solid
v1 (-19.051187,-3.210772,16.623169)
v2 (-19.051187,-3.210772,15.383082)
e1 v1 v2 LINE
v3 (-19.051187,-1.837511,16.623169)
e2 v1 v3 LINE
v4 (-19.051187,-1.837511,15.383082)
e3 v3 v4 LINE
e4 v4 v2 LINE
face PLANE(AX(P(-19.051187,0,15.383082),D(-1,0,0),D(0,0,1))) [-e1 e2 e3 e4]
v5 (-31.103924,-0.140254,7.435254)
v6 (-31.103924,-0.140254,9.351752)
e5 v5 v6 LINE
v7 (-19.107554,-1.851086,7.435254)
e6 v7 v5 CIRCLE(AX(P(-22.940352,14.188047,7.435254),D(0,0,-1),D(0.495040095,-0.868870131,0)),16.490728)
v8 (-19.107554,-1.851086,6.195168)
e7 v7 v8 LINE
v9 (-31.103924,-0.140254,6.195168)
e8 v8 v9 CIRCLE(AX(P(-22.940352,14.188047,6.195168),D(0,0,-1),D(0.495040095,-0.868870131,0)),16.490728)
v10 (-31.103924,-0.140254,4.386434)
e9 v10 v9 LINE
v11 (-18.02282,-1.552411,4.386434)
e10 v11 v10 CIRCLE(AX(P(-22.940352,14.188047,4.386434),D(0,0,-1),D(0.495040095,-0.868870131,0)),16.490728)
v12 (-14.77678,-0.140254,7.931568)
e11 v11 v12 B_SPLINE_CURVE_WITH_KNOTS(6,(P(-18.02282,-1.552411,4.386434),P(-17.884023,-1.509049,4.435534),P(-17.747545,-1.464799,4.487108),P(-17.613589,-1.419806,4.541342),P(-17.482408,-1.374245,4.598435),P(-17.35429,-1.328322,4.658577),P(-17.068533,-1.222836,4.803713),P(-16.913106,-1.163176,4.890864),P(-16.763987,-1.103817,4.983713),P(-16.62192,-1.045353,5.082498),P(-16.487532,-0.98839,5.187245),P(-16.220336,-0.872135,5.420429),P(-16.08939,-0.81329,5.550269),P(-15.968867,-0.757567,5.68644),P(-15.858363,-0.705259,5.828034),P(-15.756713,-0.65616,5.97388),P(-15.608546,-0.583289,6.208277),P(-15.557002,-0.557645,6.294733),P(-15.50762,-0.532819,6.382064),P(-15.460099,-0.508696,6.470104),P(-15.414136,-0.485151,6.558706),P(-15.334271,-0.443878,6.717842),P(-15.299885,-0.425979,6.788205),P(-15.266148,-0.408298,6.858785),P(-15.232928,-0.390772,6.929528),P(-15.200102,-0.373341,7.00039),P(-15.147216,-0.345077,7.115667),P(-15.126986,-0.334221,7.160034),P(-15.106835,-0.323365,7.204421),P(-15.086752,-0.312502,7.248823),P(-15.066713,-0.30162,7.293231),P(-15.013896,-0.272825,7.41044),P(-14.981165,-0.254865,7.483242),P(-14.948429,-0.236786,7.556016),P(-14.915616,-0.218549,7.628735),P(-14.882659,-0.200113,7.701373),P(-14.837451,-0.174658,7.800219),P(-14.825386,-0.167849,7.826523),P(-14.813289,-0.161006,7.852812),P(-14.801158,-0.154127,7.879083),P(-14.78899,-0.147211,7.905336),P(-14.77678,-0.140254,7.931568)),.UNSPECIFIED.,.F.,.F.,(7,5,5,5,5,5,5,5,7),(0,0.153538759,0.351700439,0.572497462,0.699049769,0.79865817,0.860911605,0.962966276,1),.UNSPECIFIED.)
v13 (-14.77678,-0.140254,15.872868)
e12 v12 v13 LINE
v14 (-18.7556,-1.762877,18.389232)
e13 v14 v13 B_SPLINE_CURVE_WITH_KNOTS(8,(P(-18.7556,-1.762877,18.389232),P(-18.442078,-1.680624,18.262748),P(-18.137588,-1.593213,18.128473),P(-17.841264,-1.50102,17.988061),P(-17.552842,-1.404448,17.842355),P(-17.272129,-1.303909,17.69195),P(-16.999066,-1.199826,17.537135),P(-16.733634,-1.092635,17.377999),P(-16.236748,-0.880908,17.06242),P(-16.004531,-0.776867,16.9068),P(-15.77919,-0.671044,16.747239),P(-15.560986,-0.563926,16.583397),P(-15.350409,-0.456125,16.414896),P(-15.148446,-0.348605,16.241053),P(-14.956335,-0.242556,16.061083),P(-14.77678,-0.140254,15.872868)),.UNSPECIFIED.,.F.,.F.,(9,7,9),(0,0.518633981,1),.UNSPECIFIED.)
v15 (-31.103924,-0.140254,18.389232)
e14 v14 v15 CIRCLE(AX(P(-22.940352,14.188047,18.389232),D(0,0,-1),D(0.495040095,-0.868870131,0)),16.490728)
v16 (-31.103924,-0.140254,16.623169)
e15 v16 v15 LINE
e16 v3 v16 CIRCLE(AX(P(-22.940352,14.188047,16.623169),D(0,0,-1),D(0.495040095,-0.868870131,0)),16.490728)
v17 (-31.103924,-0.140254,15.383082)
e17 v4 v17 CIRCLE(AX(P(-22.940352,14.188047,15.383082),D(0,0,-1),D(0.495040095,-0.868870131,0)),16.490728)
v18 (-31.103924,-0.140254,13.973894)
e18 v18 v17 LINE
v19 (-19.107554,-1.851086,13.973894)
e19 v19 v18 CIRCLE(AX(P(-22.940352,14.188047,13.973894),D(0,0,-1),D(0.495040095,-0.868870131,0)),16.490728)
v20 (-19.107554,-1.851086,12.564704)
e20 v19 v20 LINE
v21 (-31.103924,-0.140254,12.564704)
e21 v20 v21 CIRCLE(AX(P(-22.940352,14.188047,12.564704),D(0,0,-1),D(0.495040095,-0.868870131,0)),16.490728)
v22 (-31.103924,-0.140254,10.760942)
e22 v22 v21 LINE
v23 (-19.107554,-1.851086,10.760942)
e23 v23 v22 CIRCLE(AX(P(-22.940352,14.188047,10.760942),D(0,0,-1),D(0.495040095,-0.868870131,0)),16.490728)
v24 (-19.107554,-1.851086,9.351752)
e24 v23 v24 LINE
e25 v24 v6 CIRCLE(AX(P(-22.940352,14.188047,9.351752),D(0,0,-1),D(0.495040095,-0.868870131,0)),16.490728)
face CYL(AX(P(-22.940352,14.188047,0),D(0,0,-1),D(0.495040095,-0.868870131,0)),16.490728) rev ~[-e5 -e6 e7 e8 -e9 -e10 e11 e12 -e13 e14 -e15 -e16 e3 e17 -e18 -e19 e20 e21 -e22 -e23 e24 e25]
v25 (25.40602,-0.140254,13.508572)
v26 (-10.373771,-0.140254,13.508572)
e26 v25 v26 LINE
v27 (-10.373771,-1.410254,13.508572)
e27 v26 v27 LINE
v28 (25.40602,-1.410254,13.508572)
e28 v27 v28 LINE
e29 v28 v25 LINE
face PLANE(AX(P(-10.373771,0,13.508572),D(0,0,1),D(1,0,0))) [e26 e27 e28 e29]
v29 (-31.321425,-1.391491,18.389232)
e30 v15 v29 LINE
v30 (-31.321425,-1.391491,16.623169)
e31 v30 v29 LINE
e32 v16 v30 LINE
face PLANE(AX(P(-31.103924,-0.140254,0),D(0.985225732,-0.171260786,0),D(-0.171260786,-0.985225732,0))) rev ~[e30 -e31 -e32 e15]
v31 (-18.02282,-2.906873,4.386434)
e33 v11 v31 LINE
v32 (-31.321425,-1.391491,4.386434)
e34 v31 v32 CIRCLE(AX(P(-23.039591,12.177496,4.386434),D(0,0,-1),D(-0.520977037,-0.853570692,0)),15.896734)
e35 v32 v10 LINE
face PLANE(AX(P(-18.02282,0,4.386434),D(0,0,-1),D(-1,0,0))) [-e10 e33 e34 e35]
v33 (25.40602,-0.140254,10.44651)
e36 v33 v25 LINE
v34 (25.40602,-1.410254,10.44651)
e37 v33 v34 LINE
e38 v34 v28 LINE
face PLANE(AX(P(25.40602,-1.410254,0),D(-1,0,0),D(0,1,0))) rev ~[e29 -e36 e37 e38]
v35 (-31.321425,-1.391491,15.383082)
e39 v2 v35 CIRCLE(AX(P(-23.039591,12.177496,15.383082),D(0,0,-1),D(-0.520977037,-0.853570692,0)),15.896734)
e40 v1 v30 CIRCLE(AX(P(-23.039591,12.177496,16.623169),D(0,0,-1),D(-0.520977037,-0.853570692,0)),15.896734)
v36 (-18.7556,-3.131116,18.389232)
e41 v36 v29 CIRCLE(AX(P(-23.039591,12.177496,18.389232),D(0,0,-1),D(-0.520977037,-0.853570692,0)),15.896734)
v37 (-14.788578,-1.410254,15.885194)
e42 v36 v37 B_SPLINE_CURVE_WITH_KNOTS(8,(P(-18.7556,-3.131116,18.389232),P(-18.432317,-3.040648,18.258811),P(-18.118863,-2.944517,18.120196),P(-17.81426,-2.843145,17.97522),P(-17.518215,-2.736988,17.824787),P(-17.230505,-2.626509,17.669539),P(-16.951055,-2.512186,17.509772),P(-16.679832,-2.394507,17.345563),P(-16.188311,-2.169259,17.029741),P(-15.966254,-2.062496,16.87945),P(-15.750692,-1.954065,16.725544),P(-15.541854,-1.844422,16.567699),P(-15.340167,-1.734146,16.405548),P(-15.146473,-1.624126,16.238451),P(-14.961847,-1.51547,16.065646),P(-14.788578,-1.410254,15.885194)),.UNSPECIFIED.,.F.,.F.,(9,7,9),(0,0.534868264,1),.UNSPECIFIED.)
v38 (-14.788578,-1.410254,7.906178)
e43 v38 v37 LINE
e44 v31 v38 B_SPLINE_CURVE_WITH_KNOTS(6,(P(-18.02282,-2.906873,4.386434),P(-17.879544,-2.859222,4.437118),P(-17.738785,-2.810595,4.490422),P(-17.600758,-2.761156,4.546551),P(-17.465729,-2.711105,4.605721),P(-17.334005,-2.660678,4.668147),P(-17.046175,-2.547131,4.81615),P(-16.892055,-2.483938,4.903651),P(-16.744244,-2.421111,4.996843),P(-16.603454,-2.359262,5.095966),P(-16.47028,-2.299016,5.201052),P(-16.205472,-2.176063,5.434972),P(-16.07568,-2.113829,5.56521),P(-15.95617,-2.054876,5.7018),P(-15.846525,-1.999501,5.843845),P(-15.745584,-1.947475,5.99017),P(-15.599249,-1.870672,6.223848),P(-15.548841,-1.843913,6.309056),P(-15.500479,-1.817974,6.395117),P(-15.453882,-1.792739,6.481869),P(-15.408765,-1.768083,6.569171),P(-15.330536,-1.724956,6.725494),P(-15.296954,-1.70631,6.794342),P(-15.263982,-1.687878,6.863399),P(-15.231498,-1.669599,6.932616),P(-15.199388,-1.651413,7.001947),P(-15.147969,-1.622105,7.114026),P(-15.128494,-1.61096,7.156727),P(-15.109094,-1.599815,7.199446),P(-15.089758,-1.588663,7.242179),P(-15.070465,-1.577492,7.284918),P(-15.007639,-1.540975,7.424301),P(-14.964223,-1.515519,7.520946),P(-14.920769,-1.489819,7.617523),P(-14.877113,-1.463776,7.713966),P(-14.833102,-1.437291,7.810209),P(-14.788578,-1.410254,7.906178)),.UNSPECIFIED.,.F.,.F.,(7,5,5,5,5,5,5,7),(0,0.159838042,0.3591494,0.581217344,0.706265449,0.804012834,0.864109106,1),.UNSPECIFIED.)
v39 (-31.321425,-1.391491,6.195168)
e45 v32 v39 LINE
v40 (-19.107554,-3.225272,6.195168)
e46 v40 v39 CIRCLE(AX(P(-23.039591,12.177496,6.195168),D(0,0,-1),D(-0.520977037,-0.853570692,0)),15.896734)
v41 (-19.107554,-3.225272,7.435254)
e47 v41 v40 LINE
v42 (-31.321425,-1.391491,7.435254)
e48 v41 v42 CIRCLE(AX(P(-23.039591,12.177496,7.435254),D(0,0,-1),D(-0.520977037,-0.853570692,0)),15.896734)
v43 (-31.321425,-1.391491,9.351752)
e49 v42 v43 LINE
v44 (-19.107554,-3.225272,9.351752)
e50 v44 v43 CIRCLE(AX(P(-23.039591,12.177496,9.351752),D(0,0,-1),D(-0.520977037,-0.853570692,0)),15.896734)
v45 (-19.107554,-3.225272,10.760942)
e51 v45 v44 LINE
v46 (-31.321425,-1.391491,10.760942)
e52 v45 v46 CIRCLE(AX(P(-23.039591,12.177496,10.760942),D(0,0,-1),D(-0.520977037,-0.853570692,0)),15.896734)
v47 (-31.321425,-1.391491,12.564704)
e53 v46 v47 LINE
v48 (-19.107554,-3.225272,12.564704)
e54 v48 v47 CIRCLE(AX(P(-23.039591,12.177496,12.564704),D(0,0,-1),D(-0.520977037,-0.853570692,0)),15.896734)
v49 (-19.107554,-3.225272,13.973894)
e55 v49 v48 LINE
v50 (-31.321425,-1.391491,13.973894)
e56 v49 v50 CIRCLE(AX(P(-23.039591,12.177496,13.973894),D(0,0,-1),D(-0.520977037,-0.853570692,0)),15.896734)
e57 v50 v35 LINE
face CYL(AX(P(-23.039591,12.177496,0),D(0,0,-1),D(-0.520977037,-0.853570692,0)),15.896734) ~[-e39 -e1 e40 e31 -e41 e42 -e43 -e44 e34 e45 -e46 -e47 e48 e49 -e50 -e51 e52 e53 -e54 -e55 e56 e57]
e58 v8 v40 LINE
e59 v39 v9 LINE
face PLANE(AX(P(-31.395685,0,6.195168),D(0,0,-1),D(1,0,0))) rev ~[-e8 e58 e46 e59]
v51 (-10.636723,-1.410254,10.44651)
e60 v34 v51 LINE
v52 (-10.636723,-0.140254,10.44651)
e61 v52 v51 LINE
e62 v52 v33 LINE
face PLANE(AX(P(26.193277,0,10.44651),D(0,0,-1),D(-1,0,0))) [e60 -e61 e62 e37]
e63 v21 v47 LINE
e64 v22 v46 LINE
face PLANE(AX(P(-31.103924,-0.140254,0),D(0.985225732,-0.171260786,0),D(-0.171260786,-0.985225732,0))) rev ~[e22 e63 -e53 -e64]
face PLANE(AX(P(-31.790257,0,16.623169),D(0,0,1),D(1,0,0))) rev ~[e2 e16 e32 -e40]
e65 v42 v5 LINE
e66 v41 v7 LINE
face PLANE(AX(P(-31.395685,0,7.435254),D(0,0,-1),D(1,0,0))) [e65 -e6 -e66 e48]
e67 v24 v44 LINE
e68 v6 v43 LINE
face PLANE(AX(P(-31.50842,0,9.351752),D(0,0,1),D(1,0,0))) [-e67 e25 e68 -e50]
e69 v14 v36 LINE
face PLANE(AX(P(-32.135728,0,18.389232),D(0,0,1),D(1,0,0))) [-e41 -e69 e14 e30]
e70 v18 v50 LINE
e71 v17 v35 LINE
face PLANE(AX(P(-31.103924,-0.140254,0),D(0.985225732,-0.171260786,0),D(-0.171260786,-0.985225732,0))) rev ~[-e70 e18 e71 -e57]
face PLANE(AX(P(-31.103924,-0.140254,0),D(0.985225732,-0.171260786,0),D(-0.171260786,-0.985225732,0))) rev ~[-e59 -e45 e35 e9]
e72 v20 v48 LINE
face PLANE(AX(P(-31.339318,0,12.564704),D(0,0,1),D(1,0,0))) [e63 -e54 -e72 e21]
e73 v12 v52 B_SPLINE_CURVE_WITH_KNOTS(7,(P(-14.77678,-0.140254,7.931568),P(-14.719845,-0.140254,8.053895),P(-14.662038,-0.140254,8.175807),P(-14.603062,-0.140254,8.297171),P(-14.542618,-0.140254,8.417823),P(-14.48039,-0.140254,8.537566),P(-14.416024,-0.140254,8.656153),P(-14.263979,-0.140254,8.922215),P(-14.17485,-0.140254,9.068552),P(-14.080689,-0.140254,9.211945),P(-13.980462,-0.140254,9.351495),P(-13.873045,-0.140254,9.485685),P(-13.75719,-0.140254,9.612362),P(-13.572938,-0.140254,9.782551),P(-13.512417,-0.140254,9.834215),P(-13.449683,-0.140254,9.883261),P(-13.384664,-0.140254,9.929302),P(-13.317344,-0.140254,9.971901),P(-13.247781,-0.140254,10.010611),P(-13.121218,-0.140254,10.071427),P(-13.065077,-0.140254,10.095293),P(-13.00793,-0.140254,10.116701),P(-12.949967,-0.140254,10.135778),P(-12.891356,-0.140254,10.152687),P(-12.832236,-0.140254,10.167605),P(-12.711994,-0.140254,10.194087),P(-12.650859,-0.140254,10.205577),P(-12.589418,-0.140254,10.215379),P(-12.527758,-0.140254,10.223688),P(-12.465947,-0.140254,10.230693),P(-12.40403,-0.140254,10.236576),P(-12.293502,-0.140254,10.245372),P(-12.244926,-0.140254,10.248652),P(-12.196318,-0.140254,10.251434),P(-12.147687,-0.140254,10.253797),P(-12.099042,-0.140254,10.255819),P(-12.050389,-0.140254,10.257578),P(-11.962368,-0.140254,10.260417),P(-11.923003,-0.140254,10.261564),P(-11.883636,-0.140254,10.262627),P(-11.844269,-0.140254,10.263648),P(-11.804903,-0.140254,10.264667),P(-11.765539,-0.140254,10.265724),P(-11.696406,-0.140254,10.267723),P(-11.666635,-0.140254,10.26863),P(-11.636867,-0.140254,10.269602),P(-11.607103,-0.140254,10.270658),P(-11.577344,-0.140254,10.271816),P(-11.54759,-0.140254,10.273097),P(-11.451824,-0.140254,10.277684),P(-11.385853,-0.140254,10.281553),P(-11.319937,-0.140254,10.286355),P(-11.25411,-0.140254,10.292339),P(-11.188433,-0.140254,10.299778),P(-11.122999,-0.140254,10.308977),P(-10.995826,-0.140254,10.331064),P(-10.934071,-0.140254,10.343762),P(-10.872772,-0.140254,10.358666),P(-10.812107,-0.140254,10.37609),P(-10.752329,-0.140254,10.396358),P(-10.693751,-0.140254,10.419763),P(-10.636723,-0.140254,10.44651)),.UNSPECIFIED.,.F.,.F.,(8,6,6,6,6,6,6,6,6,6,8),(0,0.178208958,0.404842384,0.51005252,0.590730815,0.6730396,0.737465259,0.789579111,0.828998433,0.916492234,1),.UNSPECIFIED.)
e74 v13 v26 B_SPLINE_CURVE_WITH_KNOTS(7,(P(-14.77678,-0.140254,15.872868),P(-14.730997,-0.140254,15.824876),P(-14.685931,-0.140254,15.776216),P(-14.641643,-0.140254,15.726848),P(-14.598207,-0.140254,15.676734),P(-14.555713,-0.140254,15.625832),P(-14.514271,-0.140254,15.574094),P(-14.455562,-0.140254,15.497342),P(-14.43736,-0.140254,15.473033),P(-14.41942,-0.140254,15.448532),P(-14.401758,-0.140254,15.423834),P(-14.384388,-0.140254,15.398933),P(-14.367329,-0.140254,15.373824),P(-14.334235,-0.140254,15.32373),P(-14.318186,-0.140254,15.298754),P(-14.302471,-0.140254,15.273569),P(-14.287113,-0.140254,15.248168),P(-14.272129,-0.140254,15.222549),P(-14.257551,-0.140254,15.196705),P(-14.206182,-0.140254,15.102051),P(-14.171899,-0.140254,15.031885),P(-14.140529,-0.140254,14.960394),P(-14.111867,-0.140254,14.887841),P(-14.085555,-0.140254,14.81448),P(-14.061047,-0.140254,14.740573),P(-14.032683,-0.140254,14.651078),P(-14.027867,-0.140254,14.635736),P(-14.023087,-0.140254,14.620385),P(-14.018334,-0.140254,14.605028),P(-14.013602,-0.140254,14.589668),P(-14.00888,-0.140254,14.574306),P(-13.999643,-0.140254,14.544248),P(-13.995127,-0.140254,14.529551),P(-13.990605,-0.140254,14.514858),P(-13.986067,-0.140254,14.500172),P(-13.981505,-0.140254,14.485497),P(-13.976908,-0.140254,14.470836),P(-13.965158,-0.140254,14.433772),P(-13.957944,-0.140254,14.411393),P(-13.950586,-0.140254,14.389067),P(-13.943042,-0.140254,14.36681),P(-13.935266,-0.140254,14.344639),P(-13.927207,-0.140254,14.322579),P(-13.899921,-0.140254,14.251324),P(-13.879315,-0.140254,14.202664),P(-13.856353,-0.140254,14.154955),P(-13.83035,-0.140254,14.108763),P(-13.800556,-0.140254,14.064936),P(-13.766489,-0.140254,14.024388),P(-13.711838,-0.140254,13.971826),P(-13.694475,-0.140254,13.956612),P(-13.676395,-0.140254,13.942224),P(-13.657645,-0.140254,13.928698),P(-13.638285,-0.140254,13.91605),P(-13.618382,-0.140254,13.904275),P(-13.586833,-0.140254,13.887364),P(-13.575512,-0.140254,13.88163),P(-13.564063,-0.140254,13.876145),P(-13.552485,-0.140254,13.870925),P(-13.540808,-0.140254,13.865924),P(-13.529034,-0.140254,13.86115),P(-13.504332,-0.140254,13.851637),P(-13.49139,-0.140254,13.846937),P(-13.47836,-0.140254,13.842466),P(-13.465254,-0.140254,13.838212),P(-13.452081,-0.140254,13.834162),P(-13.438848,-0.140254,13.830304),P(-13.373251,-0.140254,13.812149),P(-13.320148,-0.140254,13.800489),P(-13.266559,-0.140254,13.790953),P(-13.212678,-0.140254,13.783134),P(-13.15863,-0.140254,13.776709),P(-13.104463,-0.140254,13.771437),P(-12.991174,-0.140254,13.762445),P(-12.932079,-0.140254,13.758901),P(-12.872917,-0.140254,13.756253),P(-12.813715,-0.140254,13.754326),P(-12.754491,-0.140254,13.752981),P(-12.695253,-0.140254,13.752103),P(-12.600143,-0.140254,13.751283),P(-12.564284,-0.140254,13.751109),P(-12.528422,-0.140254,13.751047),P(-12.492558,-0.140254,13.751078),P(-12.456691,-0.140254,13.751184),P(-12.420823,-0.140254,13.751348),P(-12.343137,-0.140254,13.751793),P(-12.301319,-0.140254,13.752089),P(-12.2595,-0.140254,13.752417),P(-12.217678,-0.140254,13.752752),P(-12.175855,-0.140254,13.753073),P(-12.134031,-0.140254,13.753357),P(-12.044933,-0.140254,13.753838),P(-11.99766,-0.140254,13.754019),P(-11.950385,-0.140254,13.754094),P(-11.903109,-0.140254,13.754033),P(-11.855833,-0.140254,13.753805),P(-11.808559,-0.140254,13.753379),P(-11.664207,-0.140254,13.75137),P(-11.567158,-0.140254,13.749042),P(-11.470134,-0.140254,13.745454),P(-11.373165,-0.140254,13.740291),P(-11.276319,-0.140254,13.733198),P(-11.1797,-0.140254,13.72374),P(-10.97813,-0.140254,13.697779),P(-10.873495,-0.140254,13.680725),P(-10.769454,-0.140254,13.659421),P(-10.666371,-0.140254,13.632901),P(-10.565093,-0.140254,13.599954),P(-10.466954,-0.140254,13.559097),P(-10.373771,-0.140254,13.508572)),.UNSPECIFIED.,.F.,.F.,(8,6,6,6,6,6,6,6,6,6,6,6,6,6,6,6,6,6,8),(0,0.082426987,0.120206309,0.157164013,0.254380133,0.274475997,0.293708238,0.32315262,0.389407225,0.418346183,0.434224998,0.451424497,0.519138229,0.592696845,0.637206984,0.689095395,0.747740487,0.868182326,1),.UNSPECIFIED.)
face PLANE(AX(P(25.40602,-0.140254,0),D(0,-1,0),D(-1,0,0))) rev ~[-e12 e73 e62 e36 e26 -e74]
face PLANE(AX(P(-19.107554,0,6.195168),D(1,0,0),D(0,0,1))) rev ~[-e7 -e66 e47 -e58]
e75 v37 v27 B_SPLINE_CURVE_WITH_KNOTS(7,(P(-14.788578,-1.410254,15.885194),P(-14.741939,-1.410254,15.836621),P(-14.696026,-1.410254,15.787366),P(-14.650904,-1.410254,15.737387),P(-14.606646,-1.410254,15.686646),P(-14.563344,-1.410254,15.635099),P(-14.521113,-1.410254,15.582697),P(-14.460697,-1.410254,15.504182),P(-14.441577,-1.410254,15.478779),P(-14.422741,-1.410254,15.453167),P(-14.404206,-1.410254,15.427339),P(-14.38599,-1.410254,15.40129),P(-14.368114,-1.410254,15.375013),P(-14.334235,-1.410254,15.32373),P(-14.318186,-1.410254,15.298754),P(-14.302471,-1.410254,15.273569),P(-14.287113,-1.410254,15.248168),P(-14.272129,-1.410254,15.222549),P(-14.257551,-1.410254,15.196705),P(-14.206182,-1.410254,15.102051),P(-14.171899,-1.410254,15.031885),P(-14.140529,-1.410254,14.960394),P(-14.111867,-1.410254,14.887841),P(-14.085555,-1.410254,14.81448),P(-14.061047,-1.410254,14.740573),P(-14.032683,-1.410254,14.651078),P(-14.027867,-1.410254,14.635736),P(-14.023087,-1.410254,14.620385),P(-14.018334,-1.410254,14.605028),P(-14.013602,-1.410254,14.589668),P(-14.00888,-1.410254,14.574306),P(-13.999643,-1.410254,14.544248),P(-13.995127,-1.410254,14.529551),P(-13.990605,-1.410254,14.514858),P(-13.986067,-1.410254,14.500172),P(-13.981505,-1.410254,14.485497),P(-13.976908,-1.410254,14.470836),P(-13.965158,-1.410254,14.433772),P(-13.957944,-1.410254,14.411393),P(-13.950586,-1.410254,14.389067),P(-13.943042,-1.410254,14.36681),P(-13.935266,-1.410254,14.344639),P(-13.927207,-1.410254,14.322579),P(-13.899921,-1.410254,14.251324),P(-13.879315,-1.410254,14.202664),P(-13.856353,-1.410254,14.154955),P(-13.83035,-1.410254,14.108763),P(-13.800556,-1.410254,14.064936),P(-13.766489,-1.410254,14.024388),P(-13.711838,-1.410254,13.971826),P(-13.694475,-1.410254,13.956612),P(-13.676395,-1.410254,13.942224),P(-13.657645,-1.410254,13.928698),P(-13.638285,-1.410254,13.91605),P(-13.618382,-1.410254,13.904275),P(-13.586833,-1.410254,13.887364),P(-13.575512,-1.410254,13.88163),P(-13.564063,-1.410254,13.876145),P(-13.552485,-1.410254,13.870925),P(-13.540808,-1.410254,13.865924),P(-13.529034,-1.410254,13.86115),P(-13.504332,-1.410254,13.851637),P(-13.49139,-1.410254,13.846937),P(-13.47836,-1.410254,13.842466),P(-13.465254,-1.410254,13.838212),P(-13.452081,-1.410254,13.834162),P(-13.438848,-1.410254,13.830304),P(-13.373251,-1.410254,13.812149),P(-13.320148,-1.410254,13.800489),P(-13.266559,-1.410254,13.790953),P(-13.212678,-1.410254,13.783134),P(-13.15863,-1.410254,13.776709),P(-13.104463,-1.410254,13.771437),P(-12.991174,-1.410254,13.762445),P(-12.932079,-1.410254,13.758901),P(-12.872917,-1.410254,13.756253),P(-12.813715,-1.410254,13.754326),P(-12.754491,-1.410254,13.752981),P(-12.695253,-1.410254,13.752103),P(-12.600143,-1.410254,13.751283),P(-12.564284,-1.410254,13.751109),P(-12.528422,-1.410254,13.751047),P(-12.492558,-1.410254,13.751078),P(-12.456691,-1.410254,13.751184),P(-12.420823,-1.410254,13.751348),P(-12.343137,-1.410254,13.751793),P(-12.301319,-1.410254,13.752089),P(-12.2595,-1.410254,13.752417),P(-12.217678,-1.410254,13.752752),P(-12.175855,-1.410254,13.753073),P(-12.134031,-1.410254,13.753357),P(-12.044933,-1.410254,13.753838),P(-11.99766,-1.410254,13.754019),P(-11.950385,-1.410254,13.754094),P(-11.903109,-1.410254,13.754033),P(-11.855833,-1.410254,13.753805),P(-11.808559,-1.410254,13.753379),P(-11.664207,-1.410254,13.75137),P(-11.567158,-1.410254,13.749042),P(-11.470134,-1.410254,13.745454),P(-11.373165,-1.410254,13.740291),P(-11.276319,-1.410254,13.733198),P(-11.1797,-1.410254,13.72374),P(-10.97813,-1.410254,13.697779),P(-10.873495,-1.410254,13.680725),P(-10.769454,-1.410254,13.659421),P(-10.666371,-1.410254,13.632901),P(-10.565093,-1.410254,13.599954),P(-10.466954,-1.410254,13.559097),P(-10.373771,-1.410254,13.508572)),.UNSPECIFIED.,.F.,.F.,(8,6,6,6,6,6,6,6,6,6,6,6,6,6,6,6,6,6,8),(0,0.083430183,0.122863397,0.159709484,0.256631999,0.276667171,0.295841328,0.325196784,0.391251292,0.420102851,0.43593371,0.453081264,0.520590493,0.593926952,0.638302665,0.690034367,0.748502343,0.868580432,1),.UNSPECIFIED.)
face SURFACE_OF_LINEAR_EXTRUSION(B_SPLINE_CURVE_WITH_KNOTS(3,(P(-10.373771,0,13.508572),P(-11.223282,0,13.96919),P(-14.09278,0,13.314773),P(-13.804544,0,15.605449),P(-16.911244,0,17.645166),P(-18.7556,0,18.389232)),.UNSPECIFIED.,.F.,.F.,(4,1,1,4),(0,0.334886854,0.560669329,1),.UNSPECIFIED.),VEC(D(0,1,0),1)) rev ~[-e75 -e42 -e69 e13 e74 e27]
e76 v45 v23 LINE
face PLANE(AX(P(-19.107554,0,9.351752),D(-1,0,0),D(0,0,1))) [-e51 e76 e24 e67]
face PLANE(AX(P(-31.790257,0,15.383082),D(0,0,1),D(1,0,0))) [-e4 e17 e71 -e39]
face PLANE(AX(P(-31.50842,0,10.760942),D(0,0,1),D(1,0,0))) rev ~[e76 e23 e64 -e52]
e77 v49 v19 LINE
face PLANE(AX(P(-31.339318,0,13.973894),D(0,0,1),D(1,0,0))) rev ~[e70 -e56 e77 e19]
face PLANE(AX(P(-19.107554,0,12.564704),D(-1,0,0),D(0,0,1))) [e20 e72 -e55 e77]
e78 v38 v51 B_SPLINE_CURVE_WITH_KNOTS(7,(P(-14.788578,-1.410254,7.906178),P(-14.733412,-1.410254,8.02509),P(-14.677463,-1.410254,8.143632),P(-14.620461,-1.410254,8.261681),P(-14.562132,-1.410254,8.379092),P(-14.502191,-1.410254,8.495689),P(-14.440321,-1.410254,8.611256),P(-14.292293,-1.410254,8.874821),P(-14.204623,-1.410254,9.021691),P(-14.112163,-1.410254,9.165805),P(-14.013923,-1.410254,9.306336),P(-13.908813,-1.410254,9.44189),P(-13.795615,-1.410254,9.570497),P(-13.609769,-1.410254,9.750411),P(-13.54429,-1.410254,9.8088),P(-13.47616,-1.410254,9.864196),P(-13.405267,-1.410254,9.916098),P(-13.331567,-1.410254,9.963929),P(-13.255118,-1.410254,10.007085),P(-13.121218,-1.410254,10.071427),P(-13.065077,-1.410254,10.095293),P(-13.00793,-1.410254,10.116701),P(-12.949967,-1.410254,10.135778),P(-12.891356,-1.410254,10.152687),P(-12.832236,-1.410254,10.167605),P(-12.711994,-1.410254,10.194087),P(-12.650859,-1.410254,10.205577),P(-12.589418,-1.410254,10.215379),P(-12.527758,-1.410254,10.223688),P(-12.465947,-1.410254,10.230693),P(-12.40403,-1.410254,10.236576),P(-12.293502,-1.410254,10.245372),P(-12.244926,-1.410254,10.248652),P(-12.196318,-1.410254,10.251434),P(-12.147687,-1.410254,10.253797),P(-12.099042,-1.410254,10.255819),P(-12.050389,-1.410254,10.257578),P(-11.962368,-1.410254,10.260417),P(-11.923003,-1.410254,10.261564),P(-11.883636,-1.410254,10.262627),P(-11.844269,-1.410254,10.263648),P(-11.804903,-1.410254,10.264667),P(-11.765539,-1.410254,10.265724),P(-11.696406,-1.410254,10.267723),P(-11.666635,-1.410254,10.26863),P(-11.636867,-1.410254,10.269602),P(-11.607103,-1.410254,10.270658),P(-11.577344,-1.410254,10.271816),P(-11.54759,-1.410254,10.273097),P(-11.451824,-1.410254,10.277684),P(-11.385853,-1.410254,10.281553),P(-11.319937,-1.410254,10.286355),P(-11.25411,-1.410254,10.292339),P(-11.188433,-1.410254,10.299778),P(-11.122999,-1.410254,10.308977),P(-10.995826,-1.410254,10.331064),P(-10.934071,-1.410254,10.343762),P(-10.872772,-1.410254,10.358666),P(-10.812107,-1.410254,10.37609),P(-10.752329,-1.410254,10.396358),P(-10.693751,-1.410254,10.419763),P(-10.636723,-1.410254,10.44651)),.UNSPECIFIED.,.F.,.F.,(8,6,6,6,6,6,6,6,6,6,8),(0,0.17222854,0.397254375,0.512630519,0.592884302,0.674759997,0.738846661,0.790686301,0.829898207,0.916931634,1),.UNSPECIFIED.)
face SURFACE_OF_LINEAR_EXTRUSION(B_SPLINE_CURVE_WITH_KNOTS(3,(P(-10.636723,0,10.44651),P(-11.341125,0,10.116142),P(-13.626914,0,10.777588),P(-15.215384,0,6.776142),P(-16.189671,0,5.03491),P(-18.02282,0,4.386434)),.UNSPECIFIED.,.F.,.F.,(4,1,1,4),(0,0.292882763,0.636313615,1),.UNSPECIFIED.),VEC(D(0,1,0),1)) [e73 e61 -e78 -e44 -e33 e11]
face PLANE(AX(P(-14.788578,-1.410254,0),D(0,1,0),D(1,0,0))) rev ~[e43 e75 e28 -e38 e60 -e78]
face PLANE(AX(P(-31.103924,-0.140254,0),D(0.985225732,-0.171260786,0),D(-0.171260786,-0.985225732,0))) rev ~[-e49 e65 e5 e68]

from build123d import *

# Parameters (mm, degrees)
F1_DEPTH = 25.4
F2_W     = 12.7390697598
F2_H     = 1.2400867417
F2_W_2   = 12.2317634523
F2_H_2   = 1.4091897756
F2_W_3   = 12.4008655548
F2_W_4   = 12.2881308198
F2_H_3   = 1.2400858104
F3_DEPTH = 63.5


with BuildPart() as f1:
    # F0 (on Top) → F1 (new body)
    with BuildSketch(Plane.XY):
        with BuildLine():
            Line((25.4060197622, -1.4102543581), (25.4060197622, -0.1402543581))
            Line((25.4060197622, -0.1402543581), (-14.7767802378, -0.1402543581))
            ThreePointArc((-14.7767802378, -0.1402543581), (-22.940352015, -2.3026814229), (-31.1039237922, -0.1402543581))
            Line((-31.1039237922, -0.1402543581), (-31.3214249909, -1.3914910378))
            ThreePointArc((-31.3214249909, -1.3914910378), (-23.0576327568, -3.7192286192), (-14.7885782644, -1.4102543581))
            Line((-14.7885782644, -1.4102543581), (25.4060197622, -1.4102543581))
        make_face()
    extrude(amount=F1_DEPTH)

    # F2 (on Front) → F3 (cut, symmetric)
    with BuildSketch(Plane.XZ):
        with BuildLine():
            Line((-10.3737713591, 13.5085717124), (26.4562286409, 13.5085717124))
            Line((26.4562286409, 13.5085717124), (26.7456762769, 26.4659006628))
            Line((26.7456762769, 26.4659006628), (-32.1357277047, 26.4659006628))
            Line((-32.1357277047, 26.4659006628), (-32.1357277047, 18.3892324567))
            Line((-32.1357277047, 18.3892324567), (-18.7555998564, 18.3892324567))
            add(Edge.make_bspline(
                [(-10.3737713591, 13.5085717124), (-11.2232817613, 13.9691896047), (-14.0927804087, 13.3147734099), (-13.8045436235, 15.6054494371), (-16.9112439708, 17.6451656296), (-18.7555998564, 18.3892324567)],
                knots=[0, 0, 0, 0, 0.3348868544, 0.5606693294, 1, 1, 1, 1], degree=3))
        make_face()
        with BuildLine():
            Line((26.1932773025, -2.3347232873), (26.1932773025, 10.4465098237))
            Line((26.1932773025, 10.4465098237), (-10.6367226975, 10.4465098237))
            add(Edge.make_bspline(
                [(-10.6367226975, 10.4465098237), (-11.3411252296, 10.1161423857), (-13.6269139207, 10.7775876683), (-15.2153835526, 6.7761421787), (-16.1896712658, 5.0349102786), (-18.0228203535, 4.3864340605)],
                knots=[0, 0, 0, 0, 0.2928827632, 0.6363136149, 1, 1, 1, 1], degree=3))
            Line((-18.0228203535, 4.3864340605), (-31.7411561322, 4.3864340605))
            Line((-31.7411561322, 4.3864340605), (-32.1357277047, -2.3347232873))
            Line((-32.1357277047, -2.3347232873), (26.1932773025, -2.3347232873))
        make_face()
        with Locations((-25.4207216203, 16.0031258129)):
            Rectangle(F2_W, F2_H)
        with Locations((-25.2234358341, 13.2692987099)):
            Rectangle(F2_W_2, F2_H_2)
        with Locations((-25.3079868853, 10.0563466549)):
            Rectangle(F2_W_3, F2_H_2)
        with Locations((-25.2516195178, 6.8152113818)):
            Rectangle(F2_W_4, F2_H_3)
    extrude(amount=F3_DEPTH, both=True, mode=Mode.SUBTRACT)


solid = f1.part
